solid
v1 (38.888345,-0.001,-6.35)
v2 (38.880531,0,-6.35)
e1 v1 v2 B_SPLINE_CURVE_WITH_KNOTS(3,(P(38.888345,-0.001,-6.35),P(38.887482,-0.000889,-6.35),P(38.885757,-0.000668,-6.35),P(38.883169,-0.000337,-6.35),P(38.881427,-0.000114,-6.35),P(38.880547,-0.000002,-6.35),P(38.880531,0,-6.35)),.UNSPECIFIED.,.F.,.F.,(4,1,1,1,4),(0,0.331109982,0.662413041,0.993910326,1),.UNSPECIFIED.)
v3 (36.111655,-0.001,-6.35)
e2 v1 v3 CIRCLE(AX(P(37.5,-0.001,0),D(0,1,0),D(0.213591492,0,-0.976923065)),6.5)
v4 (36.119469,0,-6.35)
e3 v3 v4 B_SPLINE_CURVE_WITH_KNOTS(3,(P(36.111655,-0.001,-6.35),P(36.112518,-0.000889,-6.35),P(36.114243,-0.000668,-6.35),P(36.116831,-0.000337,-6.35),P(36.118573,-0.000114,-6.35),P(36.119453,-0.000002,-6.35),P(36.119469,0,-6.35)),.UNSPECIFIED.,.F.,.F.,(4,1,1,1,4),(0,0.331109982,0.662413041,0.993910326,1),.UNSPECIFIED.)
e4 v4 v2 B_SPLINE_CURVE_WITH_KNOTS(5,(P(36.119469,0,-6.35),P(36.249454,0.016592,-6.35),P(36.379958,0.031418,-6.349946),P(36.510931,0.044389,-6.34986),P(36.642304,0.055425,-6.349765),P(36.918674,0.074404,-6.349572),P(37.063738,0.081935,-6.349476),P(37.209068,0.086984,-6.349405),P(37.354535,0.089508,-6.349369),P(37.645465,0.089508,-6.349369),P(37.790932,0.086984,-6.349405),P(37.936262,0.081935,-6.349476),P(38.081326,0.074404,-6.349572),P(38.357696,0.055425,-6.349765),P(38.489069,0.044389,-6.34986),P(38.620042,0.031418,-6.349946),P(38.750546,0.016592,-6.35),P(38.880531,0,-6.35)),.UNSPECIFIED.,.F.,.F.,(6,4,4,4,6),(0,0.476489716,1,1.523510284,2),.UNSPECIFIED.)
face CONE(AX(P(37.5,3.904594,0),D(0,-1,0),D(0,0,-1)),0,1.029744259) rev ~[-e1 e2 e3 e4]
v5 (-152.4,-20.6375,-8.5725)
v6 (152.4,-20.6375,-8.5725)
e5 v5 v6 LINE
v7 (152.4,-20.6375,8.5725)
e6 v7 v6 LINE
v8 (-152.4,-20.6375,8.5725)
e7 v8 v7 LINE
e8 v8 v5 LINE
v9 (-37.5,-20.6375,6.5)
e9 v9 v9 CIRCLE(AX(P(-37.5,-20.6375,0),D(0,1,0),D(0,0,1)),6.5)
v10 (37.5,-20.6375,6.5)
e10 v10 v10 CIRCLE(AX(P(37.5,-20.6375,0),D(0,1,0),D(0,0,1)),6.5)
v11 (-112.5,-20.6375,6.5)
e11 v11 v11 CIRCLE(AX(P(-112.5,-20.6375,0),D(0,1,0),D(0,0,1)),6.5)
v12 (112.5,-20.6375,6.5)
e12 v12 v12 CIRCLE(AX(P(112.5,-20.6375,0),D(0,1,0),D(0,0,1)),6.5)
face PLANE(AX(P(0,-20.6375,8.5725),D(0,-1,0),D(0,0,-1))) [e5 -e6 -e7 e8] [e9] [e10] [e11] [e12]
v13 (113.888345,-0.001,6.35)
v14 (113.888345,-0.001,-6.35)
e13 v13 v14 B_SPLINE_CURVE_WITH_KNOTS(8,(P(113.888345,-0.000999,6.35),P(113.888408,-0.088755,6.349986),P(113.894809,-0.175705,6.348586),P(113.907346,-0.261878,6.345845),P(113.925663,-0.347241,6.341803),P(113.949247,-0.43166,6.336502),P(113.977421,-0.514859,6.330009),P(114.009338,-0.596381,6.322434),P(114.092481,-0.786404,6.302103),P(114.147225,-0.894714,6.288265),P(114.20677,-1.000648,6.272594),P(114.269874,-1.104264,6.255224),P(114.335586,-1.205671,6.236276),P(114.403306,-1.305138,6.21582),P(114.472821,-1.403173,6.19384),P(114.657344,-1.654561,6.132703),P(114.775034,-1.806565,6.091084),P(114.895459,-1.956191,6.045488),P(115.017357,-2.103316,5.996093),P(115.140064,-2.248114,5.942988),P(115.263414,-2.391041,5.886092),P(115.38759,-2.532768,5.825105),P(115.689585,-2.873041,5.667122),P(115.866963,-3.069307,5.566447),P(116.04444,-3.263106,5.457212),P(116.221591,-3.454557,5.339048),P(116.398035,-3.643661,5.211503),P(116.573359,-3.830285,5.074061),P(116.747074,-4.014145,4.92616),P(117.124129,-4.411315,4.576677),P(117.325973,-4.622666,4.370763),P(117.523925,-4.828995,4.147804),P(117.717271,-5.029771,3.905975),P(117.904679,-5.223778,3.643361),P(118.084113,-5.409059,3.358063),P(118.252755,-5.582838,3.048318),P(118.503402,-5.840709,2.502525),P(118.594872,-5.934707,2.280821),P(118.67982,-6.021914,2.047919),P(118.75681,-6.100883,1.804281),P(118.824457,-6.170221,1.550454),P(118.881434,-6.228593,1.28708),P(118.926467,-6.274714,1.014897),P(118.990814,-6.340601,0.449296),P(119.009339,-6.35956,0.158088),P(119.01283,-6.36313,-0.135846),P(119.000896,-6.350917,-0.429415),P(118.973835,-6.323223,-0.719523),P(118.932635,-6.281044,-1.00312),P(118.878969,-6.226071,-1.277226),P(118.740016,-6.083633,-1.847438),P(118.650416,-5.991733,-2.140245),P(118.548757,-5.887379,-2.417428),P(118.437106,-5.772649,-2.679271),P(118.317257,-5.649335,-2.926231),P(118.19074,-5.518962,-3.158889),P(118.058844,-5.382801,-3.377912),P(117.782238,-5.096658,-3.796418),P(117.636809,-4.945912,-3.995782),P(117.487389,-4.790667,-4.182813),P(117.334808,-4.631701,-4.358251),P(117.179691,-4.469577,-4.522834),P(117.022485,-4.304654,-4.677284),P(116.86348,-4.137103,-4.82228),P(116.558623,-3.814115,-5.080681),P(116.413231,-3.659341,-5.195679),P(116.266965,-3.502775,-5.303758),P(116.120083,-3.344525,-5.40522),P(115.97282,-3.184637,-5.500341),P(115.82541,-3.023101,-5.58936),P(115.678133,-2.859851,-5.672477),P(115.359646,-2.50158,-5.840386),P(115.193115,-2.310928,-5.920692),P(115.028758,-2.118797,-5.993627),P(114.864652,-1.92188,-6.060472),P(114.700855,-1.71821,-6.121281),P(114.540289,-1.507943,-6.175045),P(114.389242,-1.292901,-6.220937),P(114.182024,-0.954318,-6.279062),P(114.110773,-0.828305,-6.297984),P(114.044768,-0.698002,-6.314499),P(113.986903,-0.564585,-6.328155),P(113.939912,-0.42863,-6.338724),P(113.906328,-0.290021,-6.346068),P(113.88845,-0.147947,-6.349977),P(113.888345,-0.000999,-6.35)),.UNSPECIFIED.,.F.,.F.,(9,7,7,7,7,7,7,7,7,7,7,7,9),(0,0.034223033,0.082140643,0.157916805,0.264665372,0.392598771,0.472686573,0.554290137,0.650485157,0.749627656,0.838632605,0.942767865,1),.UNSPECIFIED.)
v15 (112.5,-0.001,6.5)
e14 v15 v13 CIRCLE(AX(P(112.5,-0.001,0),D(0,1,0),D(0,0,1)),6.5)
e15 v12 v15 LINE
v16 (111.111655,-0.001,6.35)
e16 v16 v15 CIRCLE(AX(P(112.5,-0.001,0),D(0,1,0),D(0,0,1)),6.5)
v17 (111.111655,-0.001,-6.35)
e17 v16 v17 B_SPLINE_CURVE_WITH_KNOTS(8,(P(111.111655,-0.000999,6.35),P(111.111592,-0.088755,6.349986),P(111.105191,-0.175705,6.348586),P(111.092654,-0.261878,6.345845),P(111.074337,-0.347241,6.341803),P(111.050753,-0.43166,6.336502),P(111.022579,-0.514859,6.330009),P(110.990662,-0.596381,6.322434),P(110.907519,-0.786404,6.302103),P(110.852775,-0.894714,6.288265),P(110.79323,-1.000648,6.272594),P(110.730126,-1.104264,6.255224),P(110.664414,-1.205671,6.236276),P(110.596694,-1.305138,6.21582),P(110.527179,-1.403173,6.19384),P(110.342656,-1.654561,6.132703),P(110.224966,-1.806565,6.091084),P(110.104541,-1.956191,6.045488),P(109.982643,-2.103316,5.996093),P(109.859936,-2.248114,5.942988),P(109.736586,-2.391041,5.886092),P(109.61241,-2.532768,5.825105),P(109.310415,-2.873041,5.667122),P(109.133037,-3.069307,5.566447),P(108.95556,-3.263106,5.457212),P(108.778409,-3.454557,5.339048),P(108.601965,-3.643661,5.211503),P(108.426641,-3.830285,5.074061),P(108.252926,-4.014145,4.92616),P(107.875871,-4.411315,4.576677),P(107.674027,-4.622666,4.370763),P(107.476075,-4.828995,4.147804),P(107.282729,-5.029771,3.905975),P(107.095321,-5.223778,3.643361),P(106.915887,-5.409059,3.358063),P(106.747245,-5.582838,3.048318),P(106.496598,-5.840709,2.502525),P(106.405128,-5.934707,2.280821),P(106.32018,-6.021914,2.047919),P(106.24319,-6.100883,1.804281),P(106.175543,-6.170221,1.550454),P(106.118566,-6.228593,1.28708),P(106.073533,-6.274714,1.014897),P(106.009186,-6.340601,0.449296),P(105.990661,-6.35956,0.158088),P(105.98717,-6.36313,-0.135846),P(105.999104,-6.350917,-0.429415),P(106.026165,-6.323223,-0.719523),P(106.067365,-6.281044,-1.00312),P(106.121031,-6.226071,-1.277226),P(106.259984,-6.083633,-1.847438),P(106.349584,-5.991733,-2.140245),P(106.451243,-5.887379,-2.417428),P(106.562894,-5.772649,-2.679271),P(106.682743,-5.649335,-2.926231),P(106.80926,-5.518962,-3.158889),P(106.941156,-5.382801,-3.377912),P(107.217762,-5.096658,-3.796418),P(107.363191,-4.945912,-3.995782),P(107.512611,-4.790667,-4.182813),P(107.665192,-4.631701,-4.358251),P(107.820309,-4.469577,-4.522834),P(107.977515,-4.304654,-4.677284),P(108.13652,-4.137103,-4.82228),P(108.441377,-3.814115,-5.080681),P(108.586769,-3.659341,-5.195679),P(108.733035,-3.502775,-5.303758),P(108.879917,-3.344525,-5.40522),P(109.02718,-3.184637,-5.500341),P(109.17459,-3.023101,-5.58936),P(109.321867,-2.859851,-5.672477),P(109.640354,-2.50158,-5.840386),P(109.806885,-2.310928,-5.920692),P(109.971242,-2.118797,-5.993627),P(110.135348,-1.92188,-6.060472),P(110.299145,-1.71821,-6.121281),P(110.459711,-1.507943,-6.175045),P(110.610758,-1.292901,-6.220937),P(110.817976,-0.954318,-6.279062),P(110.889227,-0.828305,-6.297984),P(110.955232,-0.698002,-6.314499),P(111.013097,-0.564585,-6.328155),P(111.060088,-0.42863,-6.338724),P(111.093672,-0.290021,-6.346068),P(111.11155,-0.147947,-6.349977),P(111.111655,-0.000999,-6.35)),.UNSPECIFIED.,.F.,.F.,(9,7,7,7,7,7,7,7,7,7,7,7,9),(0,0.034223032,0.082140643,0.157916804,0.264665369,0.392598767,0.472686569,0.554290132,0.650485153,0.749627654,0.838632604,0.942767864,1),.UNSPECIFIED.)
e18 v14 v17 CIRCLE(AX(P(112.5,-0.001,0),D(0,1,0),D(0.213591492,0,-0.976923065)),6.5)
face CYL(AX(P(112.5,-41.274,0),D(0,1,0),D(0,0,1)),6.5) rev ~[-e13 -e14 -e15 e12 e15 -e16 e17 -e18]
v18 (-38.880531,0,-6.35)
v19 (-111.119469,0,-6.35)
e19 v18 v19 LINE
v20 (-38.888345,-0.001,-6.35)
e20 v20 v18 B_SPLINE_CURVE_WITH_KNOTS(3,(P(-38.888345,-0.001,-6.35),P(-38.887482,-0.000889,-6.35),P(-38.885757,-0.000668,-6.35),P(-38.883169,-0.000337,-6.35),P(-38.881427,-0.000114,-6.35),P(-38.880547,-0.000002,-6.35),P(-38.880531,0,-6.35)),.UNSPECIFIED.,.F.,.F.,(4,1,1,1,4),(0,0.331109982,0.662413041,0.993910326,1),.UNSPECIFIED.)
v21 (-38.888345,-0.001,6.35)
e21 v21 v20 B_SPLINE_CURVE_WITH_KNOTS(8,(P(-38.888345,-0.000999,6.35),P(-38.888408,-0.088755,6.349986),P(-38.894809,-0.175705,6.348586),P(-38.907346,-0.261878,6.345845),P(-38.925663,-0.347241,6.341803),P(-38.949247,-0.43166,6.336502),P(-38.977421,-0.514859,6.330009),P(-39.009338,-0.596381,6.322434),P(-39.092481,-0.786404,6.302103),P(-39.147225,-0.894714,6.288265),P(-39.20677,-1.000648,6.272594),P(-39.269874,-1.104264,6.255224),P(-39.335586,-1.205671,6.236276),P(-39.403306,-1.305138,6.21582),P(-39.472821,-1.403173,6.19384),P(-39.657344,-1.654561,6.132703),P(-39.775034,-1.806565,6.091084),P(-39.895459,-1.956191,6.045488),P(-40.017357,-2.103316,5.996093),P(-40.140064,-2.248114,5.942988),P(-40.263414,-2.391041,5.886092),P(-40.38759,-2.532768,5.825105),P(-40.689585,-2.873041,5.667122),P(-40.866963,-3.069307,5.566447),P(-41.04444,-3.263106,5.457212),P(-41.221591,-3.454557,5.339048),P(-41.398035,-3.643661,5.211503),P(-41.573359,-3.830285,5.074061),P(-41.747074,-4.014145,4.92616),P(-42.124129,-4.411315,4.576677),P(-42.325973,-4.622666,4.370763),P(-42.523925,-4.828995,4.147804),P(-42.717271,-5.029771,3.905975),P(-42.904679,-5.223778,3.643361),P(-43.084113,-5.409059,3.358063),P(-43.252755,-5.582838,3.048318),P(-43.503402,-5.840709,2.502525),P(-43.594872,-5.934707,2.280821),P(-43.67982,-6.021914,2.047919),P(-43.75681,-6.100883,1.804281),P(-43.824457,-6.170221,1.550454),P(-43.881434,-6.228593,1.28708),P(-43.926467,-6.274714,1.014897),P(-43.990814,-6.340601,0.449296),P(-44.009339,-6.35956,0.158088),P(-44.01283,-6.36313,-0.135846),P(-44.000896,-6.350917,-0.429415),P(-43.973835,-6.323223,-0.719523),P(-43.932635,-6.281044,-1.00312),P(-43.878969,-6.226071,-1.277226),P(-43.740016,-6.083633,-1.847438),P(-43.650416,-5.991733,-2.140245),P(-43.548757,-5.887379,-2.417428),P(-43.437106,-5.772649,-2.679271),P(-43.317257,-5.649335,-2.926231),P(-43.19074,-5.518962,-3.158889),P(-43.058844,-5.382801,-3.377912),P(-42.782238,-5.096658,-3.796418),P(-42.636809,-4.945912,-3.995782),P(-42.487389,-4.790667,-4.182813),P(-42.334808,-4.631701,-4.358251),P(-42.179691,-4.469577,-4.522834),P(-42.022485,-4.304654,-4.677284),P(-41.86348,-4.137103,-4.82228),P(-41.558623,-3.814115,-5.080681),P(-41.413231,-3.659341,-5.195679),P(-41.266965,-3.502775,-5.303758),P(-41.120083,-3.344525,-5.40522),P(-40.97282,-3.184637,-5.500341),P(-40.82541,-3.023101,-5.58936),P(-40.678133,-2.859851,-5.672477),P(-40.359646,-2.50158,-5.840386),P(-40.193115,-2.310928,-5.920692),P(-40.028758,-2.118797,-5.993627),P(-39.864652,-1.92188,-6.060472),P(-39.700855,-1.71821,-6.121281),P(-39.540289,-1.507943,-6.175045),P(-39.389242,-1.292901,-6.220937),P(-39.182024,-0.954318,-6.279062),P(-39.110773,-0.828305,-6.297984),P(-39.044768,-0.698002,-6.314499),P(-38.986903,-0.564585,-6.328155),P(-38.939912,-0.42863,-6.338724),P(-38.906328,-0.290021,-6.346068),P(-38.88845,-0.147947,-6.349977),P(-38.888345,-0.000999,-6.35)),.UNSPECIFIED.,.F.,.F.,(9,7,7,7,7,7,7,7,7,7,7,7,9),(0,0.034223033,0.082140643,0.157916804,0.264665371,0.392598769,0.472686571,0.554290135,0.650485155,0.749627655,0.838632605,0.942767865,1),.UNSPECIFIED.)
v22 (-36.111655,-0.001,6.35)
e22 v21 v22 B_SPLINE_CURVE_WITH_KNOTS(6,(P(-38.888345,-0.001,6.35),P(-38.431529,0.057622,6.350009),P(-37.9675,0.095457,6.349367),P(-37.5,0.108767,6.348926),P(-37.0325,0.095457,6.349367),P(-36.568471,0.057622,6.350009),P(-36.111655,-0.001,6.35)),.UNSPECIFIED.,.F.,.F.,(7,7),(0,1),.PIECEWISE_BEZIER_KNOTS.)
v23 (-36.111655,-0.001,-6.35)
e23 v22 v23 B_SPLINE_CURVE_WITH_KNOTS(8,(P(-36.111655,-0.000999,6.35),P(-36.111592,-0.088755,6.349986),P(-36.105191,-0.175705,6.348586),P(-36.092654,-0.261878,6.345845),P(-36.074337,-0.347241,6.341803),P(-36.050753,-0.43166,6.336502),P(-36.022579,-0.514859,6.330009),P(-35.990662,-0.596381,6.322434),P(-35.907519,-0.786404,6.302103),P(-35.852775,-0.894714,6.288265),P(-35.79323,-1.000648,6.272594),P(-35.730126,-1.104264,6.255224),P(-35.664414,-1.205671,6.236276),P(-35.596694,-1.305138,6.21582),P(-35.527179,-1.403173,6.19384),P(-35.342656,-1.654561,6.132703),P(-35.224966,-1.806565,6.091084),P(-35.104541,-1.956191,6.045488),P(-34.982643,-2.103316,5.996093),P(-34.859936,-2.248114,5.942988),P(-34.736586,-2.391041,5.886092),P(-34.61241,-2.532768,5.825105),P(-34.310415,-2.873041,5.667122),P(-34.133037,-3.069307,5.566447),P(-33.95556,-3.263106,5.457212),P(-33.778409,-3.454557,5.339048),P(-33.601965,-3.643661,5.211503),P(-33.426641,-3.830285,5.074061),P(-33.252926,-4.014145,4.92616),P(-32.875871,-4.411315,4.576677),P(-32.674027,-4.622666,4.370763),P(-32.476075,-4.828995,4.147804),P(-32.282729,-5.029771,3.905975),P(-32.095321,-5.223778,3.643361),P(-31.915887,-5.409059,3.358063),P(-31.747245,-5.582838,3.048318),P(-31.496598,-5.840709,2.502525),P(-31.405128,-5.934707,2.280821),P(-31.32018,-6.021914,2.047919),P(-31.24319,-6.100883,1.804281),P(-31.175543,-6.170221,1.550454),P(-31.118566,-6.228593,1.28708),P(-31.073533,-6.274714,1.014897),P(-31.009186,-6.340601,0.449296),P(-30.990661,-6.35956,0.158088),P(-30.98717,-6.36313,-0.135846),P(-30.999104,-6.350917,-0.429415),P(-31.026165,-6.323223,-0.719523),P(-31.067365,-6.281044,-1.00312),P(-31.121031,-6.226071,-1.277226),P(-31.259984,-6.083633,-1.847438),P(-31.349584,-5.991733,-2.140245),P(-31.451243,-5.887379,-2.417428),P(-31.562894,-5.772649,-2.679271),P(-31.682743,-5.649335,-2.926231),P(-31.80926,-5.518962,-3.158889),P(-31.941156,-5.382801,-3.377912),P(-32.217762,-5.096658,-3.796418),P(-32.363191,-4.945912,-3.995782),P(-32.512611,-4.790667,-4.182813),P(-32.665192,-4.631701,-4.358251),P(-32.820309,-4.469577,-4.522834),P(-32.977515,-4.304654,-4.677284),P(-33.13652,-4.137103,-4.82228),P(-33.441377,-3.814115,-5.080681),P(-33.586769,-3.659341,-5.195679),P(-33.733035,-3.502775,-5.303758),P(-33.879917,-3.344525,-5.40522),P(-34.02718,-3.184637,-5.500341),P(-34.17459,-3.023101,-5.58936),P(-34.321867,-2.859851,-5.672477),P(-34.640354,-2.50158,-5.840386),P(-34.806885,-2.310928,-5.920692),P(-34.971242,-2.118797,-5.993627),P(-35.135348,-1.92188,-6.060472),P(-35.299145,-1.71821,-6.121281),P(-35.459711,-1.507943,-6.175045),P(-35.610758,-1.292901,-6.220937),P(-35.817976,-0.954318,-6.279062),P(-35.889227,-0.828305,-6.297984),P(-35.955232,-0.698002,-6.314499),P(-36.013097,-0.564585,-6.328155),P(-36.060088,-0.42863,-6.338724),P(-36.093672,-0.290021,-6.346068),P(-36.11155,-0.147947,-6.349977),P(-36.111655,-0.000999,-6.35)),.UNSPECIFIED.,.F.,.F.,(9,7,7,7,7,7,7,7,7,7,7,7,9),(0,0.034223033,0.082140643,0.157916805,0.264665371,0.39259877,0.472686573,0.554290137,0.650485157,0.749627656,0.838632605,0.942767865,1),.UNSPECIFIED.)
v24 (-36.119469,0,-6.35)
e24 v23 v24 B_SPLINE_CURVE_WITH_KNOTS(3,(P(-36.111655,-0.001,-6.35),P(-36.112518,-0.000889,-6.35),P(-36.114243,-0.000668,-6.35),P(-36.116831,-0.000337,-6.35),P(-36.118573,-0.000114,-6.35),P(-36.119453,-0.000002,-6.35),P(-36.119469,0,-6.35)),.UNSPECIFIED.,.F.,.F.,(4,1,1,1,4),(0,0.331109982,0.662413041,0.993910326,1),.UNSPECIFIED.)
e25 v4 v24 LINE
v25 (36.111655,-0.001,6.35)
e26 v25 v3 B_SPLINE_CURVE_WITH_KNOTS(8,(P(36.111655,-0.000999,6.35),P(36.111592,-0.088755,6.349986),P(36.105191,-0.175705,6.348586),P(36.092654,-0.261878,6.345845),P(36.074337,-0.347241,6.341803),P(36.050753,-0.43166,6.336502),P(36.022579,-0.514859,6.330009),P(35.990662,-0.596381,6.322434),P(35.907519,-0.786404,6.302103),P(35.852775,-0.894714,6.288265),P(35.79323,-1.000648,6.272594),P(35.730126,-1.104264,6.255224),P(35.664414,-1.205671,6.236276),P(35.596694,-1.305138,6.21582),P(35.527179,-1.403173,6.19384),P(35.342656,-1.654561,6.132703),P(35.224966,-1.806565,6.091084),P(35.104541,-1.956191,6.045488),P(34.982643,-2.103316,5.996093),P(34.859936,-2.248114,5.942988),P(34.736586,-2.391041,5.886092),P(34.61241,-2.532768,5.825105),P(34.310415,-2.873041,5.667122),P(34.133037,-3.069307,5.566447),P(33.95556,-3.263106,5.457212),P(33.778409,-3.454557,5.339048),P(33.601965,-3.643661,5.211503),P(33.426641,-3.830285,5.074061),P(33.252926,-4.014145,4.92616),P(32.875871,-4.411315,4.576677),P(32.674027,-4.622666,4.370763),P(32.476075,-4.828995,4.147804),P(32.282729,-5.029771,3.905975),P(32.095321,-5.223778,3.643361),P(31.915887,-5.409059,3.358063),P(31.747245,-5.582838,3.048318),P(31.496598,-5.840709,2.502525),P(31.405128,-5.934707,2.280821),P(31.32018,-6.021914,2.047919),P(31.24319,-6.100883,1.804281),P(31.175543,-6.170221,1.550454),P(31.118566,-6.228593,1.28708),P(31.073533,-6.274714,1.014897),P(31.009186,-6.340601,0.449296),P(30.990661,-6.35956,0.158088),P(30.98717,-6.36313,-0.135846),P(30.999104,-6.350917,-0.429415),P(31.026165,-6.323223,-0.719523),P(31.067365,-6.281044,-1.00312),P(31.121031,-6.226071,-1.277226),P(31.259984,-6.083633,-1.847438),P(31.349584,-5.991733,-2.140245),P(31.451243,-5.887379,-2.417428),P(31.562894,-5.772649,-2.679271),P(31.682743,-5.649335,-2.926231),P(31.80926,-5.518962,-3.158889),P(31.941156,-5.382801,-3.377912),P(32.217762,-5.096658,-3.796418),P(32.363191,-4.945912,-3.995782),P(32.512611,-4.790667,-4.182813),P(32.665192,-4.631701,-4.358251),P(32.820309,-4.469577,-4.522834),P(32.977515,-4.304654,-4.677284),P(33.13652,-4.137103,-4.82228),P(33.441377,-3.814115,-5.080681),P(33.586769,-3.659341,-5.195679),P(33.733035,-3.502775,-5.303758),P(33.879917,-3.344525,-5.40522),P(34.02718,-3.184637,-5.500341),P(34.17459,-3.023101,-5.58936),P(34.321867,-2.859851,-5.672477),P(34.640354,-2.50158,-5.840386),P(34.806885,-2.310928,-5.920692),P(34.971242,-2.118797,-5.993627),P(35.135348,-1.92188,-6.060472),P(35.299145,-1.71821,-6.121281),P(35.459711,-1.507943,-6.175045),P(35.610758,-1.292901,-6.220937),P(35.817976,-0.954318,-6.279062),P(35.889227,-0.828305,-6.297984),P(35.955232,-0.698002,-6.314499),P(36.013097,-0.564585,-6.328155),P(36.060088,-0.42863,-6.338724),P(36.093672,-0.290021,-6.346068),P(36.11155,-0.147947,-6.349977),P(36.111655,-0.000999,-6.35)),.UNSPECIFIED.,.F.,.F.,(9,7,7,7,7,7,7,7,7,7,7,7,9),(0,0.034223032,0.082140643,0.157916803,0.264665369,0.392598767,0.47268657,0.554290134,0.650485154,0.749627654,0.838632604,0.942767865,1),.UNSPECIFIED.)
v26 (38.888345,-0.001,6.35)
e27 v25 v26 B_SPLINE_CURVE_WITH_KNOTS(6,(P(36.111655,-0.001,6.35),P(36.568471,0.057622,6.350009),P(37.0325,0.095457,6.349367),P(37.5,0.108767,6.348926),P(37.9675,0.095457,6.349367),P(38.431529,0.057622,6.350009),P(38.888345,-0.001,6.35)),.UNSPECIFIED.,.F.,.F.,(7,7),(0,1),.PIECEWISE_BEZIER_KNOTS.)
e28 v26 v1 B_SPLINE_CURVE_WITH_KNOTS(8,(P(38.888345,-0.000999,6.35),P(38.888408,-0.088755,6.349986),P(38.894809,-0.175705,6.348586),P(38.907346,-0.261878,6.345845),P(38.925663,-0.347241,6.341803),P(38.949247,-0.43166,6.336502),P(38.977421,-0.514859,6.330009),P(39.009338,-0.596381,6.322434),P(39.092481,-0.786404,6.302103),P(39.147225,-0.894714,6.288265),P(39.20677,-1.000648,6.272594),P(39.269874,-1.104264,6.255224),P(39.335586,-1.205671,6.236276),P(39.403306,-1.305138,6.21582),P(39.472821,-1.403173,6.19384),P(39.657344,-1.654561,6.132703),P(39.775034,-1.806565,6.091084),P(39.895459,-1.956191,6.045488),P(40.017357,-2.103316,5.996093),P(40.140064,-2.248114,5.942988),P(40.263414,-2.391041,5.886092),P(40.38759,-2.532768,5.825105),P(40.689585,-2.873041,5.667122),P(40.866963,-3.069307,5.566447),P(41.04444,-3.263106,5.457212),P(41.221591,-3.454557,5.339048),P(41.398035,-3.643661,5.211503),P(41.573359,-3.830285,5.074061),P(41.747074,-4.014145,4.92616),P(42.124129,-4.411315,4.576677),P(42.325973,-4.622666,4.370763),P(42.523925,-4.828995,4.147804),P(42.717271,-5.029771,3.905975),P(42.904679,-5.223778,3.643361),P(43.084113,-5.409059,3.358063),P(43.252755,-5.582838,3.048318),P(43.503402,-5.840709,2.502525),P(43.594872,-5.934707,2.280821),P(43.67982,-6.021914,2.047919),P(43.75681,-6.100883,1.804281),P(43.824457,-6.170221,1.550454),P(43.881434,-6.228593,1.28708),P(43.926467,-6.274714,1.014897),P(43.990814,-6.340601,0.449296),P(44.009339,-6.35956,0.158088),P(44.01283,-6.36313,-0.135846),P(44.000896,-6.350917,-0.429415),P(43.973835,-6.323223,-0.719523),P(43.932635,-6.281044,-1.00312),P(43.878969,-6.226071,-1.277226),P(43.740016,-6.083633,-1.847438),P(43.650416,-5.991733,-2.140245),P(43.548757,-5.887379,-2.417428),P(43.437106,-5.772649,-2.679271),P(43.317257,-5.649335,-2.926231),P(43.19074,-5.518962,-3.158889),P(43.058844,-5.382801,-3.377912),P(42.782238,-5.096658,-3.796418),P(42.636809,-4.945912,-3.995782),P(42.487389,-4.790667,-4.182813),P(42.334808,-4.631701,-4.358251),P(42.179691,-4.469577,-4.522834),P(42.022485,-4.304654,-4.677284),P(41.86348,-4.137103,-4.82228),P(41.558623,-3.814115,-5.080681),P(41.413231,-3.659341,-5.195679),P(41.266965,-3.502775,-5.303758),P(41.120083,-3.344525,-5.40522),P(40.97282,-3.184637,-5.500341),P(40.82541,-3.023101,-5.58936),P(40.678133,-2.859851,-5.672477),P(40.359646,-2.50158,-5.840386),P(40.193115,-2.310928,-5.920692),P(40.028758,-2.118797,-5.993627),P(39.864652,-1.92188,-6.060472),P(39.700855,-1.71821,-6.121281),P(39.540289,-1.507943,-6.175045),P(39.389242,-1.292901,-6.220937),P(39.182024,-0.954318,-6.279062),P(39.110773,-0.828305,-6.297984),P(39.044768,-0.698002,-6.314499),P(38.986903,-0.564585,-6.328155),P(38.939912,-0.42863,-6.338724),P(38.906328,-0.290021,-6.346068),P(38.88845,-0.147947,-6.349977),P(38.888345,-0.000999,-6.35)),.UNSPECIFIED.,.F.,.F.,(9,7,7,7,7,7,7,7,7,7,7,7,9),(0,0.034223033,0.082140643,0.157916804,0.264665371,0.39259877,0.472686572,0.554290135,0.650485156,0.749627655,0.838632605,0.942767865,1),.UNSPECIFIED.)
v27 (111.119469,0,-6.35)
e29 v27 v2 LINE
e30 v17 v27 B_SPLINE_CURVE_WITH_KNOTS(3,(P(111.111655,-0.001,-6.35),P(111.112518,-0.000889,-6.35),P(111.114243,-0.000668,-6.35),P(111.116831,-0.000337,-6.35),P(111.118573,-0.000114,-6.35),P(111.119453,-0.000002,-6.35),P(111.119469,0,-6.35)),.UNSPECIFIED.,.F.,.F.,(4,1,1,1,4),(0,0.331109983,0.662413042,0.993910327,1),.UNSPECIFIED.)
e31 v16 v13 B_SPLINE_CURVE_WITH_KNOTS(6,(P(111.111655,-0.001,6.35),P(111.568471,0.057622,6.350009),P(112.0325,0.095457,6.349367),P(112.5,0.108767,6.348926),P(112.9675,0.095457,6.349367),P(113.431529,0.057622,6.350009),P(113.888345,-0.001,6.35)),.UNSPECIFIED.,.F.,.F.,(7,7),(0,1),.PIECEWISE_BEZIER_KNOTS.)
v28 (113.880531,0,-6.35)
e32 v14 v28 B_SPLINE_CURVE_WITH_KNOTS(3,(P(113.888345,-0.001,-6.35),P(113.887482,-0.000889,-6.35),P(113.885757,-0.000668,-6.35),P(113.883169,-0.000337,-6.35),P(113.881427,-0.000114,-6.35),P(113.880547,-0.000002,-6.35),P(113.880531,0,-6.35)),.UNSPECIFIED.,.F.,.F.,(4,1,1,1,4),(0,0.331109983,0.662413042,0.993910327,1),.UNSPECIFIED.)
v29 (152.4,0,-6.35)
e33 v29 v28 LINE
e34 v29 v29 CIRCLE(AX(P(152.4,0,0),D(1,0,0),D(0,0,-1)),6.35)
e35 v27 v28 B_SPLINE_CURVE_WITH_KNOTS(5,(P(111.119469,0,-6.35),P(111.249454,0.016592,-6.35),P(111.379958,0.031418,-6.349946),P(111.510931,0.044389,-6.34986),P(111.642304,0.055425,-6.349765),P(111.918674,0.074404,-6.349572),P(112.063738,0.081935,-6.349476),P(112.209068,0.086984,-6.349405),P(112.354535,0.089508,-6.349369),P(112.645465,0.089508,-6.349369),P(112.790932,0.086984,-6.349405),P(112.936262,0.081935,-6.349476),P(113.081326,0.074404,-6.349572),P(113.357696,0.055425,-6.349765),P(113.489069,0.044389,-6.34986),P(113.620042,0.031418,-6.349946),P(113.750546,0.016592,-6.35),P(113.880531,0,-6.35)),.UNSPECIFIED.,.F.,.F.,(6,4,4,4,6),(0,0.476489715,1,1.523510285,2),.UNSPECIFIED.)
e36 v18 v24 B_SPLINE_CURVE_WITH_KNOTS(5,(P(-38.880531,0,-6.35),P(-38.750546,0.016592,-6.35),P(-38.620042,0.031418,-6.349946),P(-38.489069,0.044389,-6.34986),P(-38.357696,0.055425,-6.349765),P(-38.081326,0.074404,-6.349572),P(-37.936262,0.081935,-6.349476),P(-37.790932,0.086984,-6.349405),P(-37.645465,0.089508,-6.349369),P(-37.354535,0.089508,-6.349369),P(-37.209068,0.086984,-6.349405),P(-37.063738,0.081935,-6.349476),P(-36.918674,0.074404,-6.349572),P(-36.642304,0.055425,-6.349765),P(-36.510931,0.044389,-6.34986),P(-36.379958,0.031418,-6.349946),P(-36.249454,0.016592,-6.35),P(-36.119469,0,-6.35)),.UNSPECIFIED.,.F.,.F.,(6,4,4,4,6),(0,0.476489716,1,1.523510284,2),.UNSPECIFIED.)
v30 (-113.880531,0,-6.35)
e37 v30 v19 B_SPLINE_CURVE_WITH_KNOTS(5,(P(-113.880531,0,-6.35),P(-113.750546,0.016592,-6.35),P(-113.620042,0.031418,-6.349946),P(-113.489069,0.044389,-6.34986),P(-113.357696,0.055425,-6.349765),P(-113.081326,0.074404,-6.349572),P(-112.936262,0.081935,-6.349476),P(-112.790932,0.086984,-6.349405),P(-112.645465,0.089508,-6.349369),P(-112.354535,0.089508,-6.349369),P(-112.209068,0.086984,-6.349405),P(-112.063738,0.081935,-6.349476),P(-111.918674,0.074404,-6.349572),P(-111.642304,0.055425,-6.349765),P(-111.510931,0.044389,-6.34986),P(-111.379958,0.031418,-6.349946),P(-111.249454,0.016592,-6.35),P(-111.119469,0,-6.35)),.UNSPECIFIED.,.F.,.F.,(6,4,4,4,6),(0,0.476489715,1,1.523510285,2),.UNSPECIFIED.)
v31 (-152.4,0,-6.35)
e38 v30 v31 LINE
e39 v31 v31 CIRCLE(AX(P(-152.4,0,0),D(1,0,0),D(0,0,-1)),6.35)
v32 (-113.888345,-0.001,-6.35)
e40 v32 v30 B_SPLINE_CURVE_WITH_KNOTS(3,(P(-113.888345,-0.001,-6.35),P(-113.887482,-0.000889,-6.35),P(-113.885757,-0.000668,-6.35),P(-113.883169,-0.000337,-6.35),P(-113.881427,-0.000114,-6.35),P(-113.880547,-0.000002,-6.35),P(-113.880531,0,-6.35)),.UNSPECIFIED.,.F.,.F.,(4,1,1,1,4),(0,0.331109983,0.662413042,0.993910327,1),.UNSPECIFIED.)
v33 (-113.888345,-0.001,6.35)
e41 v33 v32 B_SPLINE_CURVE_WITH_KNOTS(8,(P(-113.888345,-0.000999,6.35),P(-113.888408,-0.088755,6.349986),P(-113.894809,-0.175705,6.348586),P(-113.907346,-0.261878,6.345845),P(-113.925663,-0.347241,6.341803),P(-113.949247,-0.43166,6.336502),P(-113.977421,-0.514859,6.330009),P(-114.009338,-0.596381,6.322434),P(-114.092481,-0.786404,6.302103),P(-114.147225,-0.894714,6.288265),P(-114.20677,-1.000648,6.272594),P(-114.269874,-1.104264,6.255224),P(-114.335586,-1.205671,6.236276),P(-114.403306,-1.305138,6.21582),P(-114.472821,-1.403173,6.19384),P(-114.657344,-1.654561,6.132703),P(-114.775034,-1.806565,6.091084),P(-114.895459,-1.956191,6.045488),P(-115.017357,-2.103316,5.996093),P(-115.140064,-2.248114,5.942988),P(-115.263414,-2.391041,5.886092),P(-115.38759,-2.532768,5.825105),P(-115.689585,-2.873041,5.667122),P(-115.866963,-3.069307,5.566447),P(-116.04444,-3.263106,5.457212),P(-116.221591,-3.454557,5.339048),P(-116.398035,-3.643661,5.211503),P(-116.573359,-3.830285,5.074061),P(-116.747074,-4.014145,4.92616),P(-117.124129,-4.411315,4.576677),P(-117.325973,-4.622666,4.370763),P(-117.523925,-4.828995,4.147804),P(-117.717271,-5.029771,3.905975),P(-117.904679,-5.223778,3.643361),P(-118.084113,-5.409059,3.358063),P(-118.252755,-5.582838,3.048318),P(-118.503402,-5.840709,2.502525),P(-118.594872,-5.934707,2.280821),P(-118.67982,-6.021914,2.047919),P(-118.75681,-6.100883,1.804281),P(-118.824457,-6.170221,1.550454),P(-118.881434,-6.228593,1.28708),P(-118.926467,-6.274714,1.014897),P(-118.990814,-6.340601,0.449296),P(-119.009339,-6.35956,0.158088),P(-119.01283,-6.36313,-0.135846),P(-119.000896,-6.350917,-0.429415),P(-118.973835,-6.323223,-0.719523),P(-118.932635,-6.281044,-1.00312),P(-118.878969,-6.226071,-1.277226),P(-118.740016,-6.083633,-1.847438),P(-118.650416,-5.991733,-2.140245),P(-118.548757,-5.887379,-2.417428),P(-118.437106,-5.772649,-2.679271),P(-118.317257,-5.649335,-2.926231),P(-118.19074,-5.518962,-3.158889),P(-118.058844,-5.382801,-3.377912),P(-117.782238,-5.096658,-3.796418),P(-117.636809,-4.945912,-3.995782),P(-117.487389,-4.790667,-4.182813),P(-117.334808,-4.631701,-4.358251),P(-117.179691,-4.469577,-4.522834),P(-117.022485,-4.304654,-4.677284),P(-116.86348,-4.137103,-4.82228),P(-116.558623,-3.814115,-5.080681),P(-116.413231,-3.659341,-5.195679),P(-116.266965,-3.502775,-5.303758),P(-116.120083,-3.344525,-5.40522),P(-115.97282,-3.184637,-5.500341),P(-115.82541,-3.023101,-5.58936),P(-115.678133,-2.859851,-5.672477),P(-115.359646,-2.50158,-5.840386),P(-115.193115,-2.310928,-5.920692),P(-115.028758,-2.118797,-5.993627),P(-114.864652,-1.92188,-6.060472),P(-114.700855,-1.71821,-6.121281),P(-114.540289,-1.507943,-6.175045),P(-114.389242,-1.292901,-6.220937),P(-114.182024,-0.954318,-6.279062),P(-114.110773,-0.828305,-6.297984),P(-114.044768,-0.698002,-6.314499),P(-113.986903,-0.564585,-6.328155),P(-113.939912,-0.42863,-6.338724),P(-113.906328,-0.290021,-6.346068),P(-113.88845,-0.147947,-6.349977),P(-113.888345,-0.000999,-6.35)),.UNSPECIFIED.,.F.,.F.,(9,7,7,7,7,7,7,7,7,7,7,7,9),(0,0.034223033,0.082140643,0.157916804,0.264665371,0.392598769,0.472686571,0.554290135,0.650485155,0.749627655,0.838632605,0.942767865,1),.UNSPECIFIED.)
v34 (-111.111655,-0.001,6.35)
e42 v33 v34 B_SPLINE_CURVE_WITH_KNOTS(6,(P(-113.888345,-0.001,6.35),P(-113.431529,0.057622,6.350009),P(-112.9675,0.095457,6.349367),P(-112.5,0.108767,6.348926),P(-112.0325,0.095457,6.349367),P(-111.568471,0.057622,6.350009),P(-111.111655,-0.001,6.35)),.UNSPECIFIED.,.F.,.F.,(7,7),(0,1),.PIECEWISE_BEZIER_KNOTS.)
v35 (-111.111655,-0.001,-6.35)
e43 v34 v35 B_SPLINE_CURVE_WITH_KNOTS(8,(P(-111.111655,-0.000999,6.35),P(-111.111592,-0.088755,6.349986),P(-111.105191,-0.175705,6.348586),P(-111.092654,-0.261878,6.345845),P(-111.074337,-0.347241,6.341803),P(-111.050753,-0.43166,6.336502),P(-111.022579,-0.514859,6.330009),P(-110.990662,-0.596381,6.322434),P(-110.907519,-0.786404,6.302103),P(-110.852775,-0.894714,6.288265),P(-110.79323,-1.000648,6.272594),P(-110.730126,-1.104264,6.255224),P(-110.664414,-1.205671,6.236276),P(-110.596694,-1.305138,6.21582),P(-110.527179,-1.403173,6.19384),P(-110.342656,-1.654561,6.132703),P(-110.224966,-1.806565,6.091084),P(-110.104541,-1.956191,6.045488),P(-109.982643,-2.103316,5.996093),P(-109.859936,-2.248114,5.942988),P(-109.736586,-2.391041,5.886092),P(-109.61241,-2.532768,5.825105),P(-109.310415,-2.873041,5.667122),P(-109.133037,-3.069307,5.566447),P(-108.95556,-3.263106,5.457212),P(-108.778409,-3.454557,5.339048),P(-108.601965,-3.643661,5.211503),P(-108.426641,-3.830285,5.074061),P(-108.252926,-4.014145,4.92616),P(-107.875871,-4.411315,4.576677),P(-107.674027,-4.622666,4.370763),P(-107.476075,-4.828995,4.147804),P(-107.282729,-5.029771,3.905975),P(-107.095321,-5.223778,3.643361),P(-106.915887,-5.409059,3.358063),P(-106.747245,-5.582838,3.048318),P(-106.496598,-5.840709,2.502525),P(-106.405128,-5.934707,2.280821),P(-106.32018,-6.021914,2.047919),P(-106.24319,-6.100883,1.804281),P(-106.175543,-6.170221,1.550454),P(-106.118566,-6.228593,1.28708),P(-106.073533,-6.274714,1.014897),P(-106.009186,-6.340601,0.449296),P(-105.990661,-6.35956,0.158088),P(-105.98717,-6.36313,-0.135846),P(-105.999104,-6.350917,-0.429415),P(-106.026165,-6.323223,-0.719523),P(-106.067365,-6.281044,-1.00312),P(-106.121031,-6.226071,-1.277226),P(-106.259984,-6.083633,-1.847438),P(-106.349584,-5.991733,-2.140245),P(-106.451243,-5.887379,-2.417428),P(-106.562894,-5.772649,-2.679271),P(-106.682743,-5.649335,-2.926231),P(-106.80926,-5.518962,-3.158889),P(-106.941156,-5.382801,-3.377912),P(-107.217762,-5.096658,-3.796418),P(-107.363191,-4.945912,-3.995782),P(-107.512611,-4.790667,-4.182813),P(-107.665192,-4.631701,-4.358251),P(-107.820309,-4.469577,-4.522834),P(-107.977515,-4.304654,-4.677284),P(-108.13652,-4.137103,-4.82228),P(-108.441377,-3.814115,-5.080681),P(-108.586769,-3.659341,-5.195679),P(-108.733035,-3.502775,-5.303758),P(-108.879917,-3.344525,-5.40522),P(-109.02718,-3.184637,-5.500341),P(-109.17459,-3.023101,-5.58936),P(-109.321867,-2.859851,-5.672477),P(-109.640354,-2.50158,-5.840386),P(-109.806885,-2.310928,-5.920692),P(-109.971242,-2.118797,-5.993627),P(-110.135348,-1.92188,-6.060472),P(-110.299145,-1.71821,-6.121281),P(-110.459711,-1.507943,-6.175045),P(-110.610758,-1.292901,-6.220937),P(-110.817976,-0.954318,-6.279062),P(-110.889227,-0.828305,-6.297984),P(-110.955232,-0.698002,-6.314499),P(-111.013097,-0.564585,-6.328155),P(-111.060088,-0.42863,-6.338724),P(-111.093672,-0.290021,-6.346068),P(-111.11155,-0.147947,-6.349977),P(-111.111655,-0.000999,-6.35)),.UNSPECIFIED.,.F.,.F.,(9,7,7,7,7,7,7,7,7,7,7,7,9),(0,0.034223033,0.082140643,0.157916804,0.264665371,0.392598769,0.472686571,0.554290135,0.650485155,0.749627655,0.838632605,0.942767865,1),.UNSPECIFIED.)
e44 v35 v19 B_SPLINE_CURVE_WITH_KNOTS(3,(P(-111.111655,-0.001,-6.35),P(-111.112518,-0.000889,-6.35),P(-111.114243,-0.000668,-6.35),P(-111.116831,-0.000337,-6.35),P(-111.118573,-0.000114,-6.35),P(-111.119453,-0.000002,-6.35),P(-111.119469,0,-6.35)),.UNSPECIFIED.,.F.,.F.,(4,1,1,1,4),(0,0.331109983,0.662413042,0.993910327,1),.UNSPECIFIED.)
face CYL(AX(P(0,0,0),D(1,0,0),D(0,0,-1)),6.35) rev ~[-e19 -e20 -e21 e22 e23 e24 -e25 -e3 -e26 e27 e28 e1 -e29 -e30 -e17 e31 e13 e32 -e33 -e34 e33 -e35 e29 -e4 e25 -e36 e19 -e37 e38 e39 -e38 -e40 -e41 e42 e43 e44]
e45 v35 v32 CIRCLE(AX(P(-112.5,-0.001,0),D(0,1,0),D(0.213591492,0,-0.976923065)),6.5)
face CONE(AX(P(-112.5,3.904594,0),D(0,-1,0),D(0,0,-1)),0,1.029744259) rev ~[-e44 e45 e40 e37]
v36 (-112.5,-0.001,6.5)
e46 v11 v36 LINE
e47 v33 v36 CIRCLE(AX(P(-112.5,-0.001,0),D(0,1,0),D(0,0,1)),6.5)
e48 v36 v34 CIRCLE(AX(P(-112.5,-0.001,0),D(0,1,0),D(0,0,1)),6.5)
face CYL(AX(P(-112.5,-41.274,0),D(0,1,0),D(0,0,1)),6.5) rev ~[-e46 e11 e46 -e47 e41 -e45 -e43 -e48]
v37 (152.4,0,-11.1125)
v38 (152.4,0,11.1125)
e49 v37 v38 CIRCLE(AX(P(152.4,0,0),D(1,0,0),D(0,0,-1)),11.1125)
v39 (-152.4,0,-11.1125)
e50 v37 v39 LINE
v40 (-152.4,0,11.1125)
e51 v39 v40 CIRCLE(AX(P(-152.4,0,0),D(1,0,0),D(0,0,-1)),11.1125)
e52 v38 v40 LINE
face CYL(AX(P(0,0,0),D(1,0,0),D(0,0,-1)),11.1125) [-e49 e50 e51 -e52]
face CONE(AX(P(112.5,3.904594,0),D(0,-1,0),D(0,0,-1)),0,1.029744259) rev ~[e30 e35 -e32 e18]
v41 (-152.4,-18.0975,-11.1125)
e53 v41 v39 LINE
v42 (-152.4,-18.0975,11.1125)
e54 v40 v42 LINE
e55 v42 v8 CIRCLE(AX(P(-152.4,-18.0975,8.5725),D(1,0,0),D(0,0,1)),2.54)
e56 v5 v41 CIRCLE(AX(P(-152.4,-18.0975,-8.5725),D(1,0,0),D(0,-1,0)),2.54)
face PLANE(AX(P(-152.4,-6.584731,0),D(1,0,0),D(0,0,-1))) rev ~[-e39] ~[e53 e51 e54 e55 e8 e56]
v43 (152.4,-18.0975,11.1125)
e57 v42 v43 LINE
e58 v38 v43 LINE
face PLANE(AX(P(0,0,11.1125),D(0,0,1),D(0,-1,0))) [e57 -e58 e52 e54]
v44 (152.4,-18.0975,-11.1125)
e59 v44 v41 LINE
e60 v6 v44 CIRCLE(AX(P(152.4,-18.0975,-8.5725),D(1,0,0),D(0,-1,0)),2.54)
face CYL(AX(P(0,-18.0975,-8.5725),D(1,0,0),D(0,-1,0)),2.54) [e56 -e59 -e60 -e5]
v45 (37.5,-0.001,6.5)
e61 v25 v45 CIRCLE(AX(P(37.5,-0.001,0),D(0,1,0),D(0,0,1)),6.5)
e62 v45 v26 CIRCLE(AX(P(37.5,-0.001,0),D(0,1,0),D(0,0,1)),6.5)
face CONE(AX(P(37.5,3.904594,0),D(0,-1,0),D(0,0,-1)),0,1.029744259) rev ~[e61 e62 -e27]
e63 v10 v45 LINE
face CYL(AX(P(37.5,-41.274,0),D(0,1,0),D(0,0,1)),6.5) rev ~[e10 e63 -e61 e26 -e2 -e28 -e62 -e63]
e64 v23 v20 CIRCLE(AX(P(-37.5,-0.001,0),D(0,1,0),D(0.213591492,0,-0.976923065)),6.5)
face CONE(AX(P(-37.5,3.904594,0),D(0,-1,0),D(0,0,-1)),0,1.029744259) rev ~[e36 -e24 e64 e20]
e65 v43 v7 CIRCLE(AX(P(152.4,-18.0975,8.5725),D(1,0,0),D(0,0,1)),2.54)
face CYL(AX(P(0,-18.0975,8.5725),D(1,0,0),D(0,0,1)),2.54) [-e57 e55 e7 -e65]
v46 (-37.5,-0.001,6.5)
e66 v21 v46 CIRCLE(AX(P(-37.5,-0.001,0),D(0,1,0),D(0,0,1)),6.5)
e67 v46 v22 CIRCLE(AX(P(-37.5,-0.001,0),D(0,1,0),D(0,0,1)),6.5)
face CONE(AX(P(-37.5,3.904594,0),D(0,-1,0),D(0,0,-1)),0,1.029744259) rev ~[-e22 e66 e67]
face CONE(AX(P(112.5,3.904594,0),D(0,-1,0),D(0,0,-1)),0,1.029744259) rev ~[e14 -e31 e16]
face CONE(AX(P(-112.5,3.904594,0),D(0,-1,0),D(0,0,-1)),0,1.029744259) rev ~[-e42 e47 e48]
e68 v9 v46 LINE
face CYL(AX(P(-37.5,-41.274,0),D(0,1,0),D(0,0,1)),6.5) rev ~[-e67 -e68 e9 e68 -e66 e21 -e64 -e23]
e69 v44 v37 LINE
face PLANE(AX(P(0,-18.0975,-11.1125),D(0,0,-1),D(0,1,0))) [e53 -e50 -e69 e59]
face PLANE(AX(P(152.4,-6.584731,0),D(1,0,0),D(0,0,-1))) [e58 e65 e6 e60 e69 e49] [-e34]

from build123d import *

# Parameters (mm, degrees)
EXTRUDE1_DEPTH                 = 152.4
EXTRUDE1_DEPTH_BACK            = 152.4
SKETCH1_R                      = 6.35
F_13_0_13_DIAMETER_HOLE1_D     = 13
F_13_0_13_DIAMETER_HOLE1_DEPTH = 20.6365
F_13_0_13_DIAMETER_HOLE1_TIP   = 3.905594024


with BuildPart() as part:
    # Sketch1 → Extrude1 (new, two sides: drawn at the far end of the back side and taken through both)
    with BuildSketch(Plane(origin=(0, 0, 0), x_dir=(0, 0, -1), z_dir=(1, 0, 0)).offset(-EXTRUDE1_DEPTH_BACK)):
        with BuildLine():
            Line((-11.1125, 0), (-11.1125, -18.0975))
            ThreePointArc((-11.1125, -18.0975), (-10.368551224, -19.893551224), (-8.5725, -20.6375))
            Line((-8.5725, -20.6375), (8.5725, -20.6375))
            ThreePointArc((8.5725, -20.6375), (10.368551224, -19.893551224), (11.1125, -18.0975))
            Line((11.1125, -18.0975), (11.1125, 0))
            ThreePointArc((11.1125, 0), (0, 11.1125), (-11.1125, 0))
        make_face()
        Circle(SKETCH1_R, mode=Mode.SUBTRACT)
    extrude(amount=EXTRUDE1_DEPTH + EXTRUDE1_DEPTH_BACK)

    # Ø13.0 (13) Diameter Hole1
    with Locations(Plane(origin=(-112.5, -20.6375, 0), x_dir=(0, 0, -1), z_dir=(0, -1, 0))):
        with Locations((0, 0), (0, 75), (0, 150), (0, 225)):
            Hole(F_13_0_13_DIAMETER_HOLE1_D / 2, depth=F_13_0_13_DIAMETER_HOLE1_DEPTH)
            with Locations((0, 0, -(F_13_0_13_DIAMETER_HOLE1_DEPTH + F_13_0_13_DIAMETER_HOLE1_TIP / 2))):  # 118° drill point
                Cone(0, F_13_0_13_DIAMETER_HOLE1_D / 2, F_13_0_13_DIAMETER_HOLE1_TIP, mode=Mode.SUBTRACT)


solid = part.part
